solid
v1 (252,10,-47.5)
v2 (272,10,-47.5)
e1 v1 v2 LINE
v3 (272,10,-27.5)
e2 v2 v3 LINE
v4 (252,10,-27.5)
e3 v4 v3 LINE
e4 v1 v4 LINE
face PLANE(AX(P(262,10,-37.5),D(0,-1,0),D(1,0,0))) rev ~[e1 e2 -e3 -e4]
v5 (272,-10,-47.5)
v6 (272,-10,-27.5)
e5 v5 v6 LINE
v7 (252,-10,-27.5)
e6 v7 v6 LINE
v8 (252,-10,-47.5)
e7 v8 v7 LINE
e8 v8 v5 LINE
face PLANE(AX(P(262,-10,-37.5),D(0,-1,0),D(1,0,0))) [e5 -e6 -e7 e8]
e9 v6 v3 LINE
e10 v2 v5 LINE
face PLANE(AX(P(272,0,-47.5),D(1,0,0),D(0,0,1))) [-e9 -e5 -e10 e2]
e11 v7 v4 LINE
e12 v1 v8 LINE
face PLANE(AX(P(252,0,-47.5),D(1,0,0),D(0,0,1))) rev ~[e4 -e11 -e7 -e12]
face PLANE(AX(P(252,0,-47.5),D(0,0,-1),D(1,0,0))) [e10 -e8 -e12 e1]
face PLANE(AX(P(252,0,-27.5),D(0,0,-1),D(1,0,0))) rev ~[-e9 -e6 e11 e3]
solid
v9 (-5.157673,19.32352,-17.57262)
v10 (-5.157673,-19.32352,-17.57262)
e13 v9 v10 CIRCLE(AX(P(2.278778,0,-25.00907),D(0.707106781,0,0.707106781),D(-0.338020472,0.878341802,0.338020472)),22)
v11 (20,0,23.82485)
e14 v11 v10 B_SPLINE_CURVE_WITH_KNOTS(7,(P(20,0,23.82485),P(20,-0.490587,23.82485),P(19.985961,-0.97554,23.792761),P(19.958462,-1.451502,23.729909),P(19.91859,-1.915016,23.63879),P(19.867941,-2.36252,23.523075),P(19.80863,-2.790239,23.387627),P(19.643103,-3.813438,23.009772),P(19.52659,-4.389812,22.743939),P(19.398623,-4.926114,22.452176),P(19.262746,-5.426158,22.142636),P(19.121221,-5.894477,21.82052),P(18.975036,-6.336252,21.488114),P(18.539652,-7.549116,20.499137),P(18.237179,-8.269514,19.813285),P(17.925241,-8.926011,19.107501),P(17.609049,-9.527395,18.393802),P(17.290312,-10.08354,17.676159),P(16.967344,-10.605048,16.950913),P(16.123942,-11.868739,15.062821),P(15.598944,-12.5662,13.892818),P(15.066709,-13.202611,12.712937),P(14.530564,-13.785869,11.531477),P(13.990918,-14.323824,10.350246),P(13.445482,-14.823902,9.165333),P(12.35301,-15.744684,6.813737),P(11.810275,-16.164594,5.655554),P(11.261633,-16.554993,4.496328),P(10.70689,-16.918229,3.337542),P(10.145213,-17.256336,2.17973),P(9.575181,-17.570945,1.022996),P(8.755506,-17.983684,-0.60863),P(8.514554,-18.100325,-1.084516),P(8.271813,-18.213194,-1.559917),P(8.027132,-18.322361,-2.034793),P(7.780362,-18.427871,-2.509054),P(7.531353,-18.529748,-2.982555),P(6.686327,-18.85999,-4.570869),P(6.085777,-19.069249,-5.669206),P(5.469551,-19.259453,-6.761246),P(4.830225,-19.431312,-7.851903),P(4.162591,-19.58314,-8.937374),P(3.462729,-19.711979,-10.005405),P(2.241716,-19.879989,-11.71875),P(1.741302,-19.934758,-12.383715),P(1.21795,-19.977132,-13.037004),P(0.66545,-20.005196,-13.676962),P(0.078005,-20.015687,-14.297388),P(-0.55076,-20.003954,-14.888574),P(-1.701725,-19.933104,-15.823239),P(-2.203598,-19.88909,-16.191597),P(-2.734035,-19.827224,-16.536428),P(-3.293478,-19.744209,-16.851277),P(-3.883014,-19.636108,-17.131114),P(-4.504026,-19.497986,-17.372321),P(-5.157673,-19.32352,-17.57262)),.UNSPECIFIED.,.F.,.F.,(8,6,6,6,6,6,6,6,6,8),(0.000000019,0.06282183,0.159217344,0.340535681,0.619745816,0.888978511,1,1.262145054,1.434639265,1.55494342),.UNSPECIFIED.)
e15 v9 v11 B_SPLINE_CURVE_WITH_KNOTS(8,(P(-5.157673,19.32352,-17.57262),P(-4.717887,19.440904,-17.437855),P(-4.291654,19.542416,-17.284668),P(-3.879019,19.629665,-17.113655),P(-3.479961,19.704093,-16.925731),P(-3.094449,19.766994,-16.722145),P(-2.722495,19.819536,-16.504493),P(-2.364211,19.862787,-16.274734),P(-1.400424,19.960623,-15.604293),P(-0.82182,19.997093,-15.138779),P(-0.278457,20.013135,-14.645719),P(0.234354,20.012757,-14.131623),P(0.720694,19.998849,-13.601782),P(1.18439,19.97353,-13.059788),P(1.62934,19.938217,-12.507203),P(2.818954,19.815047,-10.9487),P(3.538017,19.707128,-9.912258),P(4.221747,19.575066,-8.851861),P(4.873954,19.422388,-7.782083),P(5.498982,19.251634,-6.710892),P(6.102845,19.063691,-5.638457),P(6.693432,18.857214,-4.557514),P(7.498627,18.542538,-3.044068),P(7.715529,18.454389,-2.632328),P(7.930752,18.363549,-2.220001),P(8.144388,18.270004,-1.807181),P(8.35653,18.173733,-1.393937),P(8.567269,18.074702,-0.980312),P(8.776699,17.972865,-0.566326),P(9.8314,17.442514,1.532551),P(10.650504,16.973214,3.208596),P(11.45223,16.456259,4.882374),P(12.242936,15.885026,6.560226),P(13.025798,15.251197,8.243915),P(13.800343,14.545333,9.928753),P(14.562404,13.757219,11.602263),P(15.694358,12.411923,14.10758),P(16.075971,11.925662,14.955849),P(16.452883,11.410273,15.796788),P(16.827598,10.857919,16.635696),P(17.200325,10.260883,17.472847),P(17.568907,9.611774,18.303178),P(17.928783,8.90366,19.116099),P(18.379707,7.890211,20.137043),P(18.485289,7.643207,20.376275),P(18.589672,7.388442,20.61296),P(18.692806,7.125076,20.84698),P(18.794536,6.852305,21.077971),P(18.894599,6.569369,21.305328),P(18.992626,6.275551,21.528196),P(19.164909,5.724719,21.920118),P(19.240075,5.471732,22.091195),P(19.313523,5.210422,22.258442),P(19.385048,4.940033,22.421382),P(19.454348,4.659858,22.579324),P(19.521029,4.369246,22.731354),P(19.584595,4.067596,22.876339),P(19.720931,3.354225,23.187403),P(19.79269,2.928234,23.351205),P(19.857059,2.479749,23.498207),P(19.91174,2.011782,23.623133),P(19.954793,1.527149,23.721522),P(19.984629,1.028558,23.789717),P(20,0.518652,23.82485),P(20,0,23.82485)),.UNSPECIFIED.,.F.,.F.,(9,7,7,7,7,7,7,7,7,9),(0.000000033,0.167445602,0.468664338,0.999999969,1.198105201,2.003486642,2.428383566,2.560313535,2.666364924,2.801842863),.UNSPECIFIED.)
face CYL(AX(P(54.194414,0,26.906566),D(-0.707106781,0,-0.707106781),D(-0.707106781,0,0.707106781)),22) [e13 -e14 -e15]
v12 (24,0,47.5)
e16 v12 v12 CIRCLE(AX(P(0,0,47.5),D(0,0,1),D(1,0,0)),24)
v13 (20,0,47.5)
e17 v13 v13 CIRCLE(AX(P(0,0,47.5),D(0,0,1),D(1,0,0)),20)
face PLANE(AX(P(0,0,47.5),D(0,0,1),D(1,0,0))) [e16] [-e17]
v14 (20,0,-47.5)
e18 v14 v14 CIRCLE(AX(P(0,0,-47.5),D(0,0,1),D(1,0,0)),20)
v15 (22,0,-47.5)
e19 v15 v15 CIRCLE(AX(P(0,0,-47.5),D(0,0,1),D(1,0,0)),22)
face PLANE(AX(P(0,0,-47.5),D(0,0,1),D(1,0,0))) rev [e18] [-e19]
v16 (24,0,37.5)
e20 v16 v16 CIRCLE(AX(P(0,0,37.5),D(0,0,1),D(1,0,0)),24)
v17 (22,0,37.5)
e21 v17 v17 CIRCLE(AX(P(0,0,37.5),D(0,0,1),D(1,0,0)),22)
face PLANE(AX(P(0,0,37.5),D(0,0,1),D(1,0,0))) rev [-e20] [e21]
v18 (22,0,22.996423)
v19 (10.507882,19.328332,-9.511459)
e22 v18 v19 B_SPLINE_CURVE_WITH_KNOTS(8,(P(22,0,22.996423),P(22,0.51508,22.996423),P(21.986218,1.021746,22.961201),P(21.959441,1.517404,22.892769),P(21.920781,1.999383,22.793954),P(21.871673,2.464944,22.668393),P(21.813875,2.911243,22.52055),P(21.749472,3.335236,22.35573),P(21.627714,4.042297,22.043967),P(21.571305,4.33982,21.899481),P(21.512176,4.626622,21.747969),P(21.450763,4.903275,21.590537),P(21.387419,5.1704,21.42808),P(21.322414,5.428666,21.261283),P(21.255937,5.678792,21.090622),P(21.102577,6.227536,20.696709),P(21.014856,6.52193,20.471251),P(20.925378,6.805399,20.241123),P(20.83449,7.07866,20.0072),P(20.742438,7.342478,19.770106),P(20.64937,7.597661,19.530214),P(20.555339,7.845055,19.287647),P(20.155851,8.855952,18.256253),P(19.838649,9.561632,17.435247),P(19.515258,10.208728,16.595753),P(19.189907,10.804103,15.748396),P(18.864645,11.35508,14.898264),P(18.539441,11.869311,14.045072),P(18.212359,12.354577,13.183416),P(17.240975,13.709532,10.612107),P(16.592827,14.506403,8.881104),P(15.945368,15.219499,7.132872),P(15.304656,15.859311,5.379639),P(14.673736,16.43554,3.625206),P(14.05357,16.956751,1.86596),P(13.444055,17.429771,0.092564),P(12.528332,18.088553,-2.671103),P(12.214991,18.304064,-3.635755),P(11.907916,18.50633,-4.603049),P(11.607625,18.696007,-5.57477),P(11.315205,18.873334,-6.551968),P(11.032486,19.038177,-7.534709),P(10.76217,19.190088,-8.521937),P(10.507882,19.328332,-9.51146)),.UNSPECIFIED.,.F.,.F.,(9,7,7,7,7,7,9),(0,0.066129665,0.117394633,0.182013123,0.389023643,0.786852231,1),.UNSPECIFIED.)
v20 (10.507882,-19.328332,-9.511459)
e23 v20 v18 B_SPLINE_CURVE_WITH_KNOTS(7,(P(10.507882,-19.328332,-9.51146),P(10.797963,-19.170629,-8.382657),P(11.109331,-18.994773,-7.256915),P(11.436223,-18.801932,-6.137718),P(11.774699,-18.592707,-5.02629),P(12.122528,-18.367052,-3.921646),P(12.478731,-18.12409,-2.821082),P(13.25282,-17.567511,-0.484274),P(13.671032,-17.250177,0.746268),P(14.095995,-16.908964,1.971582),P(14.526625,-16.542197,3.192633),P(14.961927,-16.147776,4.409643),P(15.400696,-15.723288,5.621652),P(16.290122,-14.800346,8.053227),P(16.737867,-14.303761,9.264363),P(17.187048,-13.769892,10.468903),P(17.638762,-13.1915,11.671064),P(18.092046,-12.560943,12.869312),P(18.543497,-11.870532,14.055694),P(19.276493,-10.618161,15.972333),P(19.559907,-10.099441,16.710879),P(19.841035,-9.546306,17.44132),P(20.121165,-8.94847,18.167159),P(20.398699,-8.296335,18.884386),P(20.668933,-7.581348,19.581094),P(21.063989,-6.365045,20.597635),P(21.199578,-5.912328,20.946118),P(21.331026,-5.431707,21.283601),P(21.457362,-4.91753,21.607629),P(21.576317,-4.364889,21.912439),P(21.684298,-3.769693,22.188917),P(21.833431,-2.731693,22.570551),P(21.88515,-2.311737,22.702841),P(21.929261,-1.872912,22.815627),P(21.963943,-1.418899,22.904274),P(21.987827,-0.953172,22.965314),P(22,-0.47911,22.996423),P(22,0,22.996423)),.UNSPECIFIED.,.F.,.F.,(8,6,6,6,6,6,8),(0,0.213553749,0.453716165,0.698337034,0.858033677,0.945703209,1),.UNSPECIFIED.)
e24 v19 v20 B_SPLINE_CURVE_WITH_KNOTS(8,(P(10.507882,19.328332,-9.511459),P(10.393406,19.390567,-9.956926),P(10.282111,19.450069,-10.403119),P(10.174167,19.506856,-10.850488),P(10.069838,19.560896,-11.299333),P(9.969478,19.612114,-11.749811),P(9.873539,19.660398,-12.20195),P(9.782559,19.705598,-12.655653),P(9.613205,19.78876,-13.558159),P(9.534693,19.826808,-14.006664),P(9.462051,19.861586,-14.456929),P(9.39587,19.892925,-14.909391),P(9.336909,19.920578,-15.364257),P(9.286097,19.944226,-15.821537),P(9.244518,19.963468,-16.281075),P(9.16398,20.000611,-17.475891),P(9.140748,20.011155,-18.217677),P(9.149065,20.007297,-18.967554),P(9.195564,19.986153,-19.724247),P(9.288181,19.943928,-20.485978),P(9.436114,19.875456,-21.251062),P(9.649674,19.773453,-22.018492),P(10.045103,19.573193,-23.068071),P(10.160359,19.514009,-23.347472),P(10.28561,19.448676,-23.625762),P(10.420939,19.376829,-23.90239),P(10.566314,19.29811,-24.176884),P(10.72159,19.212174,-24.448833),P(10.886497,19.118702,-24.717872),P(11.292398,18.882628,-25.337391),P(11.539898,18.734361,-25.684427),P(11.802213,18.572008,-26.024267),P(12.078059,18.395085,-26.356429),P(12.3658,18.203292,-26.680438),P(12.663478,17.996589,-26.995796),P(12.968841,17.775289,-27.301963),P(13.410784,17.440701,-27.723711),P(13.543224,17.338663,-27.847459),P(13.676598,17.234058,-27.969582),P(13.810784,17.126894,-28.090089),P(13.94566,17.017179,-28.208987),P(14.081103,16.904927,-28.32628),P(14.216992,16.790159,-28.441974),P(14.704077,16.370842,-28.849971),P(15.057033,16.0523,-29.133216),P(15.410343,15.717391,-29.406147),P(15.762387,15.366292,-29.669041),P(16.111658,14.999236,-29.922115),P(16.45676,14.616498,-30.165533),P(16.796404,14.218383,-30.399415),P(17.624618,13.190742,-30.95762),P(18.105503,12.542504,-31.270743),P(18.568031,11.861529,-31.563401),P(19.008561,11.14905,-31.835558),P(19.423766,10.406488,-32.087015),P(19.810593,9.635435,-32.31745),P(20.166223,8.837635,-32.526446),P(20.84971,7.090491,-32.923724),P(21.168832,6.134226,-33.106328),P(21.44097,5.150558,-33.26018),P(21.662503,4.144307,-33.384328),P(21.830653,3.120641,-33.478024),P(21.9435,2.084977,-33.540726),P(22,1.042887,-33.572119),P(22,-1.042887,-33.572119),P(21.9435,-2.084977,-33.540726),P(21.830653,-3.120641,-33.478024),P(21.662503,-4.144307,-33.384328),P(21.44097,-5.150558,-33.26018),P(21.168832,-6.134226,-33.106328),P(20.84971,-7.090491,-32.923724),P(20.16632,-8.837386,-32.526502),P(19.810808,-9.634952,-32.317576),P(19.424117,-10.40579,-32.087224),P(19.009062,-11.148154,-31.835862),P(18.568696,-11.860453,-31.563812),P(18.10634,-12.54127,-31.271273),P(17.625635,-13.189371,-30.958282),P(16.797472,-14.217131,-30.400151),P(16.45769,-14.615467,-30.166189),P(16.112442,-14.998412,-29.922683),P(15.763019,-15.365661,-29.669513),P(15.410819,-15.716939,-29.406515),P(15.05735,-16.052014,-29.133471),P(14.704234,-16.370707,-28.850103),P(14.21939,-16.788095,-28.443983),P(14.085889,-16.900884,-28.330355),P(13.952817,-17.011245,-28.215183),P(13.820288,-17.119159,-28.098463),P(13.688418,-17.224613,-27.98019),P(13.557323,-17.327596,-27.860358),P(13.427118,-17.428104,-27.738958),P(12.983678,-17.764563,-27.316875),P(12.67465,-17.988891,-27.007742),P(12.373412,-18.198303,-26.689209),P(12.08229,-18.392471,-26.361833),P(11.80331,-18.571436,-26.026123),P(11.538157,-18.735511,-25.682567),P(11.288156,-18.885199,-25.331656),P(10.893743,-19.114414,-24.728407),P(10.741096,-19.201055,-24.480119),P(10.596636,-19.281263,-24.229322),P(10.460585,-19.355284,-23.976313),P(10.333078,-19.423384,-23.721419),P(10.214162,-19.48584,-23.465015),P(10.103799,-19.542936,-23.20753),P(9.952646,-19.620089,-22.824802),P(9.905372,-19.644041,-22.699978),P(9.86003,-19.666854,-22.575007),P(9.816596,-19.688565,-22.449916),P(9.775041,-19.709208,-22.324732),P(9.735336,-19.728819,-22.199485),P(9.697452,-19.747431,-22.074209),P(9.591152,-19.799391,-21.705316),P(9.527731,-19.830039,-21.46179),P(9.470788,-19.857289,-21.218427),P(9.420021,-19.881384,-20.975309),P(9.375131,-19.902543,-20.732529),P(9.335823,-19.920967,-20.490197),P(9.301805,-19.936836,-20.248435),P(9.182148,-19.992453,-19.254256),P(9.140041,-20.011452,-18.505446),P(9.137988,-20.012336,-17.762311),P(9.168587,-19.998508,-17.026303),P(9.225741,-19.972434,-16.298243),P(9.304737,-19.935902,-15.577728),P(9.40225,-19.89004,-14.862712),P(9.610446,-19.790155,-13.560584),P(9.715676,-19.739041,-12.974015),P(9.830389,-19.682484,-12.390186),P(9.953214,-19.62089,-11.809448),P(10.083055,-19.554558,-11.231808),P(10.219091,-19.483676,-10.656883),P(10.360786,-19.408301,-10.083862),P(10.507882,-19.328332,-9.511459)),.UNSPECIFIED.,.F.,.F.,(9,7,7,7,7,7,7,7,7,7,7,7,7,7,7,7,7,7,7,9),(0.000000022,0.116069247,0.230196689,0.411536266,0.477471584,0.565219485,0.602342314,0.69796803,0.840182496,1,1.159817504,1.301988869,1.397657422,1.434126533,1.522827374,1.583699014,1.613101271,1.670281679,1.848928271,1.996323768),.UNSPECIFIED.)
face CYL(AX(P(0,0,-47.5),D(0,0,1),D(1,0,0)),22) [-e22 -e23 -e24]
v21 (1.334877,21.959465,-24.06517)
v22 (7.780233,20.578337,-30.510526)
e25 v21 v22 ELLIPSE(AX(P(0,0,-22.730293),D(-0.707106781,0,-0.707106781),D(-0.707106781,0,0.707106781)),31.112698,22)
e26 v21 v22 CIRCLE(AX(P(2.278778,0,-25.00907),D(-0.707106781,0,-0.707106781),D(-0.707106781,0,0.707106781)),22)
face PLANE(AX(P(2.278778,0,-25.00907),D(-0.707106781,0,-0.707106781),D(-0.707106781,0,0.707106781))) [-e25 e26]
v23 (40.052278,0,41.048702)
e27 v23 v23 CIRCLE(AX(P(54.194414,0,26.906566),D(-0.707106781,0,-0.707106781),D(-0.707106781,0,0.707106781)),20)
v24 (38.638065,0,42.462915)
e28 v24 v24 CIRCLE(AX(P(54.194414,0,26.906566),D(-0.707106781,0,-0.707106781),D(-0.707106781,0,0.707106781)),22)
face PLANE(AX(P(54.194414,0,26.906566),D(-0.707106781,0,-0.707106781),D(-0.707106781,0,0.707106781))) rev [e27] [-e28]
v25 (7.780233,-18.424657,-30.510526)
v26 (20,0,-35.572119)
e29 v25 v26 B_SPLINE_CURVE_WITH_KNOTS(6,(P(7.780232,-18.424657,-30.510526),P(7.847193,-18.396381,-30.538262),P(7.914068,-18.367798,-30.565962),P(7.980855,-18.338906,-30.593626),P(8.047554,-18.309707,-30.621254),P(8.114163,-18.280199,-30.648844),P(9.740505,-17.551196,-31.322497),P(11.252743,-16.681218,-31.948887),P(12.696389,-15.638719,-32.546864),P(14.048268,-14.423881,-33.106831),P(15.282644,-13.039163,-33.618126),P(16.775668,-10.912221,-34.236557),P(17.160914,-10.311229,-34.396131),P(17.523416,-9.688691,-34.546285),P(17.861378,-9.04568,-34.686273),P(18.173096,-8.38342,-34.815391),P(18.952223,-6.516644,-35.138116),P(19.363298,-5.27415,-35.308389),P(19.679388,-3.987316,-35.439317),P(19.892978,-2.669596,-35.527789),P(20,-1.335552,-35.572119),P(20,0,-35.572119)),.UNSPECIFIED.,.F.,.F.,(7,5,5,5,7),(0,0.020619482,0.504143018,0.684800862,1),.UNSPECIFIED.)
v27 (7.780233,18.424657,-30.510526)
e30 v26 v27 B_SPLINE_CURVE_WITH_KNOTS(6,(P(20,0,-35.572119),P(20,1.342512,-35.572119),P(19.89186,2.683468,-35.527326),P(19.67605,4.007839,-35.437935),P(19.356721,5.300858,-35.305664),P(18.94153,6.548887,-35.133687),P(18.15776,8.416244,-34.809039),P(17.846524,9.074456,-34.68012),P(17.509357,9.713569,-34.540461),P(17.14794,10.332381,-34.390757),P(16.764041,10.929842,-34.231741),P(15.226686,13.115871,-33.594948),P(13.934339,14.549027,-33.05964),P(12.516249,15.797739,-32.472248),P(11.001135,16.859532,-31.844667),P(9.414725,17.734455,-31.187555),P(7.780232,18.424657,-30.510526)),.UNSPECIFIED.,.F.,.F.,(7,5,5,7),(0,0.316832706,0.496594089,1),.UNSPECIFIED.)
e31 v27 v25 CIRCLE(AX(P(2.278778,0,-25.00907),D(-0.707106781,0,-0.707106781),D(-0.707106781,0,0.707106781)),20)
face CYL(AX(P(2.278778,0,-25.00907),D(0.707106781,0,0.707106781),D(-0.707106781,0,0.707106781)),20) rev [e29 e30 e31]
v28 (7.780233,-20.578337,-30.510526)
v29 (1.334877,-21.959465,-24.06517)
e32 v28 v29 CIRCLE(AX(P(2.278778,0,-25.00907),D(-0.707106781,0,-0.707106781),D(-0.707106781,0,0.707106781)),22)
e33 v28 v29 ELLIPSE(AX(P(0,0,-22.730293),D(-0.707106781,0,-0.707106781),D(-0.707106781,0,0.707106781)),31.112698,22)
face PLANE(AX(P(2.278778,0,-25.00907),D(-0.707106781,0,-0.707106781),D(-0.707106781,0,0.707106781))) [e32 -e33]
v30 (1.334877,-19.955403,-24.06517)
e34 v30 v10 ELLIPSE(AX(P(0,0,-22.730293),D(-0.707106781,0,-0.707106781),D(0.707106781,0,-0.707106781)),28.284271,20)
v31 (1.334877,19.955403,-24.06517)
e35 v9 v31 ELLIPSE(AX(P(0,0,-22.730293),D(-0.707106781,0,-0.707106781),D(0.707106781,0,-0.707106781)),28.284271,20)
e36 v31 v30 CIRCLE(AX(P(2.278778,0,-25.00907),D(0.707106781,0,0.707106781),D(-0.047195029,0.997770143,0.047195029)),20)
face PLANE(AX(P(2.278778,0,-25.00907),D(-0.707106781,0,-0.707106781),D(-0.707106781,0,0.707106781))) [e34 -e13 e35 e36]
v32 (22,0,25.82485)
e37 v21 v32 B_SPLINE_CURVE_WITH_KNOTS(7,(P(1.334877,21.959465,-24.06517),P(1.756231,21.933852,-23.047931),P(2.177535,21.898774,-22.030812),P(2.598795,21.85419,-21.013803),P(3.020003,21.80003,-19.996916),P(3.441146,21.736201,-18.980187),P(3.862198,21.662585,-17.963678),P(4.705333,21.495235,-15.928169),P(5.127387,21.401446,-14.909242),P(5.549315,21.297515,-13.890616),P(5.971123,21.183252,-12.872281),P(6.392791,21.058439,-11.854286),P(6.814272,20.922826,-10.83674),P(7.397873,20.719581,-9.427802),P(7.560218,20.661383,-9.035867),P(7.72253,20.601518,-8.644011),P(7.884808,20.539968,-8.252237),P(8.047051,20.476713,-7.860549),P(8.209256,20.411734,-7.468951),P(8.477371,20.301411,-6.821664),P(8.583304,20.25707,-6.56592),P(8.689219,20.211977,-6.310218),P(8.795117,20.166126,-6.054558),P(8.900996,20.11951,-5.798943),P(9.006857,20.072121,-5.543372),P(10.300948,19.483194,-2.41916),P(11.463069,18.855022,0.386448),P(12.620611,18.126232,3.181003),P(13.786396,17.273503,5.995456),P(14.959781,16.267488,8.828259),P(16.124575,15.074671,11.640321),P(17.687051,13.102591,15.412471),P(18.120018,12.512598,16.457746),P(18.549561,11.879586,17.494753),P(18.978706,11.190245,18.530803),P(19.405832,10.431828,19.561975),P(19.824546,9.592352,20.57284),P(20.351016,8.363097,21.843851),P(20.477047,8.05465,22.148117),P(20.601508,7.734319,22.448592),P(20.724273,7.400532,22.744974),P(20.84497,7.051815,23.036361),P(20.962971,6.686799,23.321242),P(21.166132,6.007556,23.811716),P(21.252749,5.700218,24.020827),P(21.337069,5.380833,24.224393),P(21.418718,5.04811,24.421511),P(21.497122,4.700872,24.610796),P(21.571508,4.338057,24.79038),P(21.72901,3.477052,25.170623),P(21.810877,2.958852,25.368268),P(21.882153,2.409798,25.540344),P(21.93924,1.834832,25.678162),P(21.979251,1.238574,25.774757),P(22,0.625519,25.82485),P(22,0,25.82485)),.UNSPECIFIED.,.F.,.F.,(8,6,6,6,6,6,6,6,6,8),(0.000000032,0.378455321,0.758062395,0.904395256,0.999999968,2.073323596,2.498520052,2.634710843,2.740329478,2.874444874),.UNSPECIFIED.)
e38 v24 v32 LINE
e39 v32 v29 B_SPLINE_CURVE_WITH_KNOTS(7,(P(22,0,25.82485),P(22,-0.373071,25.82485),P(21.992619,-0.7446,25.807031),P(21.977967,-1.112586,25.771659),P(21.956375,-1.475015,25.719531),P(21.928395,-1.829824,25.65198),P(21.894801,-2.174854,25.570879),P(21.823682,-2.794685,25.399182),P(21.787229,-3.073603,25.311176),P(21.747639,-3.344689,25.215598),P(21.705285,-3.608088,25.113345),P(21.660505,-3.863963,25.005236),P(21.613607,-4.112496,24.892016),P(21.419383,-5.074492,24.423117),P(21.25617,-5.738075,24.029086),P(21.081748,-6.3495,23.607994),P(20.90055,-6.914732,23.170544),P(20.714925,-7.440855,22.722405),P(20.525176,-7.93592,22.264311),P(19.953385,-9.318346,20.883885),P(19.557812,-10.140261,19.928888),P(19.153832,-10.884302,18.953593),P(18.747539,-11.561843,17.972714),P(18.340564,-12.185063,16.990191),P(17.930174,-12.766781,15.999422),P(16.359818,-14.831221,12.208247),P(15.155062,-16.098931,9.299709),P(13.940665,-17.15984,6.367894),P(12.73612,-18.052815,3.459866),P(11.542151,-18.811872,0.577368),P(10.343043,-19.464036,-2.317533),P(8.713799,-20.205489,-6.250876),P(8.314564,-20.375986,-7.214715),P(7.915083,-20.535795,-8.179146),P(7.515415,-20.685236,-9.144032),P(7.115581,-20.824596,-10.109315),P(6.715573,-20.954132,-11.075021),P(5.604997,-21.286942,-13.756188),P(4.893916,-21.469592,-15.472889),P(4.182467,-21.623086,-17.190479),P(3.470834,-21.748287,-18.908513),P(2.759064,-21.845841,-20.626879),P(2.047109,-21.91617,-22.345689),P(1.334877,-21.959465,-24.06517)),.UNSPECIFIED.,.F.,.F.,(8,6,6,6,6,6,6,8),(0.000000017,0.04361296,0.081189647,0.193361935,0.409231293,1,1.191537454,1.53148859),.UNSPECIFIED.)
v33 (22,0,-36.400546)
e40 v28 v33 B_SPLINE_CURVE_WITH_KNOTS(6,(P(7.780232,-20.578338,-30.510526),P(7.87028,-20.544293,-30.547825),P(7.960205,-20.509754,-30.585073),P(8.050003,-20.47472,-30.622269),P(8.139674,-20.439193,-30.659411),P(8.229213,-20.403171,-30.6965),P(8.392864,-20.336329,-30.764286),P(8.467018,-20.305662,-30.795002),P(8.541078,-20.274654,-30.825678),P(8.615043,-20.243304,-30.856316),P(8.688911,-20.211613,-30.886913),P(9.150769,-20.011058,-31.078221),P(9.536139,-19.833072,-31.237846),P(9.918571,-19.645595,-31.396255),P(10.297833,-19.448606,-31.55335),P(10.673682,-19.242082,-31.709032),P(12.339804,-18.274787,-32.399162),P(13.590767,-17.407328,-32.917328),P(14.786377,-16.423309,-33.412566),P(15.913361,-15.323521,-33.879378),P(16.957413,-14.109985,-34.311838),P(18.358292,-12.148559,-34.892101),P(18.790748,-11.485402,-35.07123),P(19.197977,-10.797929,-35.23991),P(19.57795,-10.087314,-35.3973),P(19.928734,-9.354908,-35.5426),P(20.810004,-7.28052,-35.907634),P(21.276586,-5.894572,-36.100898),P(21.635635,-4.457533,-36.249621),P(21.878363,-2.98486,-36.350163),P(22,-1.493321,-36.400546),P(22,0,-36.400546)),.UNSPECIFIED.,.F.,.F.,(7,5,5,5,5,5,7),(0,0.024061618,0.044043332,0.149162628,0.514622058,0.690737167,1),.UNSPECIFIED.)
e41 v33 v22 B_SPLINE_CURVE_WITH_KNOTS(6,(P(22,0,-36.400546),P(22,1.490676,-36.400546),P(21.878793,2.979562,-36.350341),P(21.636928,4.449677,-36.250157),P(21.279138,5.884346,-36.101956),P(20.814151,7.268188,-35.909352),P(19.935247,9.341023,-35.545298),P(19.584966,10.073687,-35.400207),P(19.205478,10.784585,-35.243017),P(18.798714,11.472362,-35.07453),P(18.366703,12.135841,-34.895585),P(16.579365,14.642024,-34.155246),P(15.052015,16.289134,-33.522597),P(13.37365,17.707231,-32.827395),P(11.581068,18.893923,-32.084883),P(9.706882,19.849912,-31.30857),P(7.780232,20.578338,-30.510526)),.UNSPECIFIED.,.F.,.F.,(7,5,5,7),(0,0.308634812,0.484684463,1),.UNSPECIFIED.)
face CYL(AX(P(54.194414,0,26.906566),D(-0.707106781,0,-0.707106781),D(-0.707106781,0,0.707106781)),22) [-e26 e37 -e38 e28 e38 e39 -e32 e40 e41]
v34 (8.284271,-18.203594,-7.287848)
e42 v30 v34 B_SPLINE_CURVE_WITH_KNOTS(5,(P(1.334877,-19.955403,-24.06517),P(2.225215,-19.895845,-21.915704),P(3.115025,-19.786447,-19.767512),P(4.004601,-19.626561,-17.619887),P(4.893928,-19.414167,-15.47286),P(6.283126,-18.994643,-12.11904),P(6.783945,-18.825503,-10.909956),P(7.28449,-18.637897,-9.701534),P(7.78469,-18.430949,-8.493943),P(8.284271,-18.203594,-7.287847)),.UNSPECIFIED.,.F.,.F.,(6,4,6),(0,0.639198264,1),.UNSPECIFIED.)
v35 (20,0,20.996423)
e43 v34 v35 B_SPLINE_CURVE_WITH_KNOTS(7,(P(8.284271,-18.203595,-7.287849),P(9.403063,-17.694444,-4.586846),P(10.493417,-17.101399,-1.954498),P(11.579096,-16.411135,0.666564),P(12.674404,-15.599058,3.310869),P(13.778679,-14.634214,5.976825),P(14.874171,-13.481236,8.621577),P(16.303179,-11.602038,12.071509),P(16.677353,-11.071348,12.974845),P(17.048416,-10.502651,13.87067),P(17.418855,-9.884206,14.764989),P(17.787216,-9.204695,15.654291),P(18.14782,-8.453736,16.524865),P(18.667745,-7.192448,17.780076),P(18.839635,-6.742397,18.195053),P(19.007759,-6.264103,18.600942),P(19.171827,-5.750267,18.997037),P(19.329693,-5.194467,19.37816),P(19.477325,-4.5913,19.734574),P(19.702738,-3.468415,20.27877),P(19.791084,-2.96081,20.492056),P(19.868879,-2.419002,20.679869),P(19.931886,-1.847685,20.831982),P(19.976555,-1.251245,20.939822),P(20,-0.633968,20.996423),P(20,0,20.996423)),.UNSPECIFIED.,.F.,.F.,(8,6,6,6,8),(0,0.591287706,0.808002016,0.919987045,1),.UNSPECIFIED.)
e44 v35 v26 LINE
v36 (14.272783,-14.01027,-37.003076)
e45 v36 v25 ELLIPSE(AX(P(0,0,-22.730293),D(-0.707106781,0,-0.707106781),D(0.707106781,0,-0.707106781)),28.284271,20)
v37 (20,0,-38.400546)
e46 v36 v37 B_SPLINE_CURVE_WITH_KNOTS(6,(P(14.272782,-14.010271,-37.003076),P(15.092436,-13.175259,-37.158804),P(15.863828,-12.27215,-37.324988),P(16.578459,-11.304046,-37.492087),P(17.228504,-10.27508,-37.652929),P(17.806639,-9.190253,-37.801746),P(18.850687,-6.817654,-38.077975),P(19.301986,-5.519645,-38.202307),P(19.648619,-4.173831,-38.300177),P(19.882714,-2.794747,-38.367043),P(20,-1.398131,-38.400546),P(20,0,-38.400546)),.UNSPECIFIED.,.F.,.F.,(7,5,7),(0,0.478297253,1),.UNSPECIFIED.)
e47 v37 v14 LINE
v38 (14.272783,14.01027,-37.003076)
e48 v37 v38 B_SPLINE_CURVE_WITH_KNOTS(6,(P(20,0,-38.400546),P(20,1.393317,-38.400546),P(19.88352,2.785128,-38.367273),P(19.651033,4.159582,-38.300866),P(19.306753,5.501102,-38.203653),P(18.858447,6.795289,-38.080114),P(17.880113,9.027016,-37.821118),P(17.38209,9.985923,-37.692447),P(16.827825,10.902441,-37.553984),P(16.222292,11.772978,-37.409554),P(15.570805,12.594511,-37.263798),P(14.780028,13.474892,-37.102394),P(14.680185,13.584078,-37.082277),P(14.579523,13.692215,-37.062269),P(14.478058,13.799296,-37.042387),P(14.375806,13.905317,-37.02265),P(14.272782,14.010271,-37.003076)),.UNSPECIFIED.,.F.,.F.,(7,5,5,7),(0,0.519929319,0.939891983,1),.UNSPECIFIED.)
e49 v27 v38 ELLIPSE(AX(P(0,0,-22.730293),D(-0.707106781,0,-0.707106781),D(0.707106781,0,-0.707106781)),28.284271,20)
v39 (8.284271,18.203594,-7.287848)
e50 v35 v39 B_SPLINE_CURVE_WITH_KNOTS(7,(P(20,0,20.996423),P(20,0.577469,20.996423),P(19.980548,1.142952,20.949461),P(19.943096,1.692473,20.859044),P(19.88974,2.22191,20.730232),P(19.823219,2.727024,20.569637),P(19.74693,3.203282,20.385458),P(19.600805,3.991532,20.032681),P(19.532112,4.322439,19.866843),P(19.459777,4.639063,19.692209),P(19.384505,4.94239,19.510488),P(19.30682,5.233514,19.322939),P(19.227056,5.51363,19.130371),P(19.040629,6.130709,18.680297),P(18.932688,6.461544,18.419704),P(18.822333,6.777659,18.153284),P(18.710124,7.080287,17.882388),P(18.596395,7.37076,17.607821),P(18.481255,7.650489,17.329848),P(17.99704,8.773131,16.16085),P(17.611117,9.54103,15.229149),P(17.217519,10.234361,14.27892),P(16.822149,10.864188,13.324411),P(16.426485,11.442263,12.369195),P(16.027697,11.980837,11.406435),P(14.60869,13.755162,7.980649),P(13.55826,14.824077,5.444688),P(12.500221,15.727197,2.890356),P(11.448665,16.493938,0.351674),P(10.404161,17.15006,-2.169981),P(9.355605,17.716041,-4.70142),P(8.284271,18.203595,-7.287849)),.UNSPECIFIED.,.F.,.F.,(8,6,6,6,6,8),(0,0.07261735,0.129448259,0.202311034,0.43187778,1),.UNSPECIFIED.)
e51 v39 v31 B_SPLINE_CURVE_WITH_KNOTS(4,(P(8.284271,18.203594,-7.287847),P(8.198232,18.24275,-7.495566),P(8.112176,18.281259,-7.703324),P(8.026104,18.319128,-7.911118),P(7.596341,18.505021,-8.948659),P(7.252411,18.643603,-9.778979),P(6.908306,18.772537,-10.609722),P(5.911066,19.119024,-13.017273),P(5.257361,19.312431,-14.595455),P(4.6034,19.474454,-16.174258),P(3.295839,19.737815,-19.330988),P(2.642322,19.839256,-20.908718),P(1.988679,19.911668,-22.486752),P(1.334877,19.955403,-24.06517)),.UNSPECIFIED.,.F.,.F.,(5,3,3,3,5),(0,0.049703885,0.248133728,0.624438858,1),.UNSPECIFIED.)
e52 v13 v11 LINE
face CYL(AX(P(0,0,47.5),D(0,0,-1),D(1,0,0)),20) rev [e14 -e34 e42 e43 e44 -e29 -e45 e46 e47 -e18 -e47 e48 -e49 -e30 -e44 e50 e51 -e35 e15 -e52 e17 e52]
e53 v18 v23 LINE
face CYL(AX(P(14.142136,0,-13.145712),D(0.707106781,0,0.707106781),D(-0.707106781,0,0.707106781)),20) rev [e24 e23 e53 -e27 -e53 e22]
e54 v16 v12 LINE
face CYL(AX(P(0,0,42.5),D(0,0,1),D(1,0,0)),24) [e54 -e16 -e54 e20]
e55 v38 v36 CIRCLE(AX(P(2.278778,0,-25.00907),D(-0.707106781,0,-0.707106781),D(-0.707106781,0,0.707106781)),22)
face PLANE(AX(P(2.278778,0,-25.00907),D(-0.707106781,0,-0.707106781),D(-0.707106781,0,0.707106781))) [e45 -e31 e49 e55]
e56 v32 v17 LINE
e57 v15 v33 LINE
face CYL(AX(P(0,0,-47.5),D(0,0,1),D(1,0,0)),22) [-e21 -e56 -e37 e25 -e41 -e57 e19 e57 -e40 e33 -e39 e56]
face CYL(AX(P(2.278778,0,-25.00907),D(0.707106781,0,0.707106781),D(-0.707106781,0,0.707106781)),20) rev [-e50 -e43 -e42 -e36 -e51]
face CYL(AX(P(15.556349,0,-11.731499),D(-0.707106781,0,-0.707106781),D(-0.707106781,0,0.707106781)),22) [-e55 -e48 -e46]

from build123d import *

# Parameters (mm, degrees)
F0_W     = 2
F0_H     = 10
F0_W_2   = 20
F0_H_2   = 20
F3_DEPTH = 10


with BuildPart() as f1:
    # F0 (on Front) → F1 (revolve)
    with BuildSketch(Plane.XZ):
        with Locations((23, 42.5)):
            Rectangle(F0_W, F0_H)
        Polygon((20, 45.5), (20, 23.8248504249), (22, 25.8248504249), (22, 37.5), (22, 47.5), (20, 47.5), align=None)
        Polygon((20, 20.9964233001), (20, -45.5), (20, -47.5), (22, -47.5), (22, 22.9964233001), align=None)
        Polygon((20, 23.8248504249), (20, 20.9964233001), (22, 22.9964233001), (22, 25.8248504249), align=None)
    revolve(axis=Axis((0, 0, -46.5), (0, 0, 1)))

    # F0 (on Front) → F2 (revolve)
    with BuildSketch(Plane.XZ):
        Polygon((22, 25.8248504249), (22, 22.9964233001), (40.0522784804, 41.0487017805), (38.638064918, 42.4629153429), align=None)
        Polygon((0, 0.9964233001), (20, 20.9964233001), (20, 23.8248504249), (0, 3.8248504249), align=None)
        Polygon((-11.8633580263, -10.8669347261), (0, 0.9964233001), (0, 3.8248504249), (-13.2775715886, -9.4527211638), align=None)
        Polygon((20, 23.8248504249), (20, 20.9964233001), (22, 22.9964233001), (22, 25.8248504249), align=None)
    revolve(axis=Axis((27.0972070521, 0, -0.1906408953), (-0.7071067812, 0, -0.7071067812)))


with BuildPart() as f3:
    # F0 (on Front) → F3 (new body, symmetric)
    with BuildSketch(Plane.XZ):
        with Locations((262, -37.5)):
            Rectangle(F0_W_2, F0_H_2)
    extrude(amount=F3_DEPTH, both=True)


with BuildPart() as f3b:
    # F0 (on Front) → F3, piece 2 (new body, symmetric)
    with BuildSketch(Plane.XZ):
        Polygon((22, 25.8248504249), (22, 22.9964233001), (40.0522784804, 41.0487017805), (38.638064918, 42.4629153429), align=None)
        Polygon((0, 0.9964233001), (20, 20.9964233001), (20, 23.8248504249), (0, 3.8248504249), align=None)
        Polygon((-11.8633580263, -10.8669347261), (0, 0.9964233001), (0, 3.8248504249), (-13.2775715886, -9.4527211638), align=None)
        Polygon((20, 23.8248504249), (20, 20.9964233001), (22, 22.9964233001), (22, 25.8248504249), align=None)
        Polygon((20, 20.9964233001), (20, -45.5), (20, -47.5), (22, -47.5), (22, 22.9964233001), align=None)
        Polygon((20, 45.5), (20, 23.8248504249), (22, 25.8248504249), (22, 37.5), (22, 47.5), (20, 47.5), align=None)
        with Locations((23, 42.5)):
            Rectangle(F0_W, F0_H)
    extrude(amount=F3_DEPTH, both=True)


solid = Compound([f1.part, f3.part])
